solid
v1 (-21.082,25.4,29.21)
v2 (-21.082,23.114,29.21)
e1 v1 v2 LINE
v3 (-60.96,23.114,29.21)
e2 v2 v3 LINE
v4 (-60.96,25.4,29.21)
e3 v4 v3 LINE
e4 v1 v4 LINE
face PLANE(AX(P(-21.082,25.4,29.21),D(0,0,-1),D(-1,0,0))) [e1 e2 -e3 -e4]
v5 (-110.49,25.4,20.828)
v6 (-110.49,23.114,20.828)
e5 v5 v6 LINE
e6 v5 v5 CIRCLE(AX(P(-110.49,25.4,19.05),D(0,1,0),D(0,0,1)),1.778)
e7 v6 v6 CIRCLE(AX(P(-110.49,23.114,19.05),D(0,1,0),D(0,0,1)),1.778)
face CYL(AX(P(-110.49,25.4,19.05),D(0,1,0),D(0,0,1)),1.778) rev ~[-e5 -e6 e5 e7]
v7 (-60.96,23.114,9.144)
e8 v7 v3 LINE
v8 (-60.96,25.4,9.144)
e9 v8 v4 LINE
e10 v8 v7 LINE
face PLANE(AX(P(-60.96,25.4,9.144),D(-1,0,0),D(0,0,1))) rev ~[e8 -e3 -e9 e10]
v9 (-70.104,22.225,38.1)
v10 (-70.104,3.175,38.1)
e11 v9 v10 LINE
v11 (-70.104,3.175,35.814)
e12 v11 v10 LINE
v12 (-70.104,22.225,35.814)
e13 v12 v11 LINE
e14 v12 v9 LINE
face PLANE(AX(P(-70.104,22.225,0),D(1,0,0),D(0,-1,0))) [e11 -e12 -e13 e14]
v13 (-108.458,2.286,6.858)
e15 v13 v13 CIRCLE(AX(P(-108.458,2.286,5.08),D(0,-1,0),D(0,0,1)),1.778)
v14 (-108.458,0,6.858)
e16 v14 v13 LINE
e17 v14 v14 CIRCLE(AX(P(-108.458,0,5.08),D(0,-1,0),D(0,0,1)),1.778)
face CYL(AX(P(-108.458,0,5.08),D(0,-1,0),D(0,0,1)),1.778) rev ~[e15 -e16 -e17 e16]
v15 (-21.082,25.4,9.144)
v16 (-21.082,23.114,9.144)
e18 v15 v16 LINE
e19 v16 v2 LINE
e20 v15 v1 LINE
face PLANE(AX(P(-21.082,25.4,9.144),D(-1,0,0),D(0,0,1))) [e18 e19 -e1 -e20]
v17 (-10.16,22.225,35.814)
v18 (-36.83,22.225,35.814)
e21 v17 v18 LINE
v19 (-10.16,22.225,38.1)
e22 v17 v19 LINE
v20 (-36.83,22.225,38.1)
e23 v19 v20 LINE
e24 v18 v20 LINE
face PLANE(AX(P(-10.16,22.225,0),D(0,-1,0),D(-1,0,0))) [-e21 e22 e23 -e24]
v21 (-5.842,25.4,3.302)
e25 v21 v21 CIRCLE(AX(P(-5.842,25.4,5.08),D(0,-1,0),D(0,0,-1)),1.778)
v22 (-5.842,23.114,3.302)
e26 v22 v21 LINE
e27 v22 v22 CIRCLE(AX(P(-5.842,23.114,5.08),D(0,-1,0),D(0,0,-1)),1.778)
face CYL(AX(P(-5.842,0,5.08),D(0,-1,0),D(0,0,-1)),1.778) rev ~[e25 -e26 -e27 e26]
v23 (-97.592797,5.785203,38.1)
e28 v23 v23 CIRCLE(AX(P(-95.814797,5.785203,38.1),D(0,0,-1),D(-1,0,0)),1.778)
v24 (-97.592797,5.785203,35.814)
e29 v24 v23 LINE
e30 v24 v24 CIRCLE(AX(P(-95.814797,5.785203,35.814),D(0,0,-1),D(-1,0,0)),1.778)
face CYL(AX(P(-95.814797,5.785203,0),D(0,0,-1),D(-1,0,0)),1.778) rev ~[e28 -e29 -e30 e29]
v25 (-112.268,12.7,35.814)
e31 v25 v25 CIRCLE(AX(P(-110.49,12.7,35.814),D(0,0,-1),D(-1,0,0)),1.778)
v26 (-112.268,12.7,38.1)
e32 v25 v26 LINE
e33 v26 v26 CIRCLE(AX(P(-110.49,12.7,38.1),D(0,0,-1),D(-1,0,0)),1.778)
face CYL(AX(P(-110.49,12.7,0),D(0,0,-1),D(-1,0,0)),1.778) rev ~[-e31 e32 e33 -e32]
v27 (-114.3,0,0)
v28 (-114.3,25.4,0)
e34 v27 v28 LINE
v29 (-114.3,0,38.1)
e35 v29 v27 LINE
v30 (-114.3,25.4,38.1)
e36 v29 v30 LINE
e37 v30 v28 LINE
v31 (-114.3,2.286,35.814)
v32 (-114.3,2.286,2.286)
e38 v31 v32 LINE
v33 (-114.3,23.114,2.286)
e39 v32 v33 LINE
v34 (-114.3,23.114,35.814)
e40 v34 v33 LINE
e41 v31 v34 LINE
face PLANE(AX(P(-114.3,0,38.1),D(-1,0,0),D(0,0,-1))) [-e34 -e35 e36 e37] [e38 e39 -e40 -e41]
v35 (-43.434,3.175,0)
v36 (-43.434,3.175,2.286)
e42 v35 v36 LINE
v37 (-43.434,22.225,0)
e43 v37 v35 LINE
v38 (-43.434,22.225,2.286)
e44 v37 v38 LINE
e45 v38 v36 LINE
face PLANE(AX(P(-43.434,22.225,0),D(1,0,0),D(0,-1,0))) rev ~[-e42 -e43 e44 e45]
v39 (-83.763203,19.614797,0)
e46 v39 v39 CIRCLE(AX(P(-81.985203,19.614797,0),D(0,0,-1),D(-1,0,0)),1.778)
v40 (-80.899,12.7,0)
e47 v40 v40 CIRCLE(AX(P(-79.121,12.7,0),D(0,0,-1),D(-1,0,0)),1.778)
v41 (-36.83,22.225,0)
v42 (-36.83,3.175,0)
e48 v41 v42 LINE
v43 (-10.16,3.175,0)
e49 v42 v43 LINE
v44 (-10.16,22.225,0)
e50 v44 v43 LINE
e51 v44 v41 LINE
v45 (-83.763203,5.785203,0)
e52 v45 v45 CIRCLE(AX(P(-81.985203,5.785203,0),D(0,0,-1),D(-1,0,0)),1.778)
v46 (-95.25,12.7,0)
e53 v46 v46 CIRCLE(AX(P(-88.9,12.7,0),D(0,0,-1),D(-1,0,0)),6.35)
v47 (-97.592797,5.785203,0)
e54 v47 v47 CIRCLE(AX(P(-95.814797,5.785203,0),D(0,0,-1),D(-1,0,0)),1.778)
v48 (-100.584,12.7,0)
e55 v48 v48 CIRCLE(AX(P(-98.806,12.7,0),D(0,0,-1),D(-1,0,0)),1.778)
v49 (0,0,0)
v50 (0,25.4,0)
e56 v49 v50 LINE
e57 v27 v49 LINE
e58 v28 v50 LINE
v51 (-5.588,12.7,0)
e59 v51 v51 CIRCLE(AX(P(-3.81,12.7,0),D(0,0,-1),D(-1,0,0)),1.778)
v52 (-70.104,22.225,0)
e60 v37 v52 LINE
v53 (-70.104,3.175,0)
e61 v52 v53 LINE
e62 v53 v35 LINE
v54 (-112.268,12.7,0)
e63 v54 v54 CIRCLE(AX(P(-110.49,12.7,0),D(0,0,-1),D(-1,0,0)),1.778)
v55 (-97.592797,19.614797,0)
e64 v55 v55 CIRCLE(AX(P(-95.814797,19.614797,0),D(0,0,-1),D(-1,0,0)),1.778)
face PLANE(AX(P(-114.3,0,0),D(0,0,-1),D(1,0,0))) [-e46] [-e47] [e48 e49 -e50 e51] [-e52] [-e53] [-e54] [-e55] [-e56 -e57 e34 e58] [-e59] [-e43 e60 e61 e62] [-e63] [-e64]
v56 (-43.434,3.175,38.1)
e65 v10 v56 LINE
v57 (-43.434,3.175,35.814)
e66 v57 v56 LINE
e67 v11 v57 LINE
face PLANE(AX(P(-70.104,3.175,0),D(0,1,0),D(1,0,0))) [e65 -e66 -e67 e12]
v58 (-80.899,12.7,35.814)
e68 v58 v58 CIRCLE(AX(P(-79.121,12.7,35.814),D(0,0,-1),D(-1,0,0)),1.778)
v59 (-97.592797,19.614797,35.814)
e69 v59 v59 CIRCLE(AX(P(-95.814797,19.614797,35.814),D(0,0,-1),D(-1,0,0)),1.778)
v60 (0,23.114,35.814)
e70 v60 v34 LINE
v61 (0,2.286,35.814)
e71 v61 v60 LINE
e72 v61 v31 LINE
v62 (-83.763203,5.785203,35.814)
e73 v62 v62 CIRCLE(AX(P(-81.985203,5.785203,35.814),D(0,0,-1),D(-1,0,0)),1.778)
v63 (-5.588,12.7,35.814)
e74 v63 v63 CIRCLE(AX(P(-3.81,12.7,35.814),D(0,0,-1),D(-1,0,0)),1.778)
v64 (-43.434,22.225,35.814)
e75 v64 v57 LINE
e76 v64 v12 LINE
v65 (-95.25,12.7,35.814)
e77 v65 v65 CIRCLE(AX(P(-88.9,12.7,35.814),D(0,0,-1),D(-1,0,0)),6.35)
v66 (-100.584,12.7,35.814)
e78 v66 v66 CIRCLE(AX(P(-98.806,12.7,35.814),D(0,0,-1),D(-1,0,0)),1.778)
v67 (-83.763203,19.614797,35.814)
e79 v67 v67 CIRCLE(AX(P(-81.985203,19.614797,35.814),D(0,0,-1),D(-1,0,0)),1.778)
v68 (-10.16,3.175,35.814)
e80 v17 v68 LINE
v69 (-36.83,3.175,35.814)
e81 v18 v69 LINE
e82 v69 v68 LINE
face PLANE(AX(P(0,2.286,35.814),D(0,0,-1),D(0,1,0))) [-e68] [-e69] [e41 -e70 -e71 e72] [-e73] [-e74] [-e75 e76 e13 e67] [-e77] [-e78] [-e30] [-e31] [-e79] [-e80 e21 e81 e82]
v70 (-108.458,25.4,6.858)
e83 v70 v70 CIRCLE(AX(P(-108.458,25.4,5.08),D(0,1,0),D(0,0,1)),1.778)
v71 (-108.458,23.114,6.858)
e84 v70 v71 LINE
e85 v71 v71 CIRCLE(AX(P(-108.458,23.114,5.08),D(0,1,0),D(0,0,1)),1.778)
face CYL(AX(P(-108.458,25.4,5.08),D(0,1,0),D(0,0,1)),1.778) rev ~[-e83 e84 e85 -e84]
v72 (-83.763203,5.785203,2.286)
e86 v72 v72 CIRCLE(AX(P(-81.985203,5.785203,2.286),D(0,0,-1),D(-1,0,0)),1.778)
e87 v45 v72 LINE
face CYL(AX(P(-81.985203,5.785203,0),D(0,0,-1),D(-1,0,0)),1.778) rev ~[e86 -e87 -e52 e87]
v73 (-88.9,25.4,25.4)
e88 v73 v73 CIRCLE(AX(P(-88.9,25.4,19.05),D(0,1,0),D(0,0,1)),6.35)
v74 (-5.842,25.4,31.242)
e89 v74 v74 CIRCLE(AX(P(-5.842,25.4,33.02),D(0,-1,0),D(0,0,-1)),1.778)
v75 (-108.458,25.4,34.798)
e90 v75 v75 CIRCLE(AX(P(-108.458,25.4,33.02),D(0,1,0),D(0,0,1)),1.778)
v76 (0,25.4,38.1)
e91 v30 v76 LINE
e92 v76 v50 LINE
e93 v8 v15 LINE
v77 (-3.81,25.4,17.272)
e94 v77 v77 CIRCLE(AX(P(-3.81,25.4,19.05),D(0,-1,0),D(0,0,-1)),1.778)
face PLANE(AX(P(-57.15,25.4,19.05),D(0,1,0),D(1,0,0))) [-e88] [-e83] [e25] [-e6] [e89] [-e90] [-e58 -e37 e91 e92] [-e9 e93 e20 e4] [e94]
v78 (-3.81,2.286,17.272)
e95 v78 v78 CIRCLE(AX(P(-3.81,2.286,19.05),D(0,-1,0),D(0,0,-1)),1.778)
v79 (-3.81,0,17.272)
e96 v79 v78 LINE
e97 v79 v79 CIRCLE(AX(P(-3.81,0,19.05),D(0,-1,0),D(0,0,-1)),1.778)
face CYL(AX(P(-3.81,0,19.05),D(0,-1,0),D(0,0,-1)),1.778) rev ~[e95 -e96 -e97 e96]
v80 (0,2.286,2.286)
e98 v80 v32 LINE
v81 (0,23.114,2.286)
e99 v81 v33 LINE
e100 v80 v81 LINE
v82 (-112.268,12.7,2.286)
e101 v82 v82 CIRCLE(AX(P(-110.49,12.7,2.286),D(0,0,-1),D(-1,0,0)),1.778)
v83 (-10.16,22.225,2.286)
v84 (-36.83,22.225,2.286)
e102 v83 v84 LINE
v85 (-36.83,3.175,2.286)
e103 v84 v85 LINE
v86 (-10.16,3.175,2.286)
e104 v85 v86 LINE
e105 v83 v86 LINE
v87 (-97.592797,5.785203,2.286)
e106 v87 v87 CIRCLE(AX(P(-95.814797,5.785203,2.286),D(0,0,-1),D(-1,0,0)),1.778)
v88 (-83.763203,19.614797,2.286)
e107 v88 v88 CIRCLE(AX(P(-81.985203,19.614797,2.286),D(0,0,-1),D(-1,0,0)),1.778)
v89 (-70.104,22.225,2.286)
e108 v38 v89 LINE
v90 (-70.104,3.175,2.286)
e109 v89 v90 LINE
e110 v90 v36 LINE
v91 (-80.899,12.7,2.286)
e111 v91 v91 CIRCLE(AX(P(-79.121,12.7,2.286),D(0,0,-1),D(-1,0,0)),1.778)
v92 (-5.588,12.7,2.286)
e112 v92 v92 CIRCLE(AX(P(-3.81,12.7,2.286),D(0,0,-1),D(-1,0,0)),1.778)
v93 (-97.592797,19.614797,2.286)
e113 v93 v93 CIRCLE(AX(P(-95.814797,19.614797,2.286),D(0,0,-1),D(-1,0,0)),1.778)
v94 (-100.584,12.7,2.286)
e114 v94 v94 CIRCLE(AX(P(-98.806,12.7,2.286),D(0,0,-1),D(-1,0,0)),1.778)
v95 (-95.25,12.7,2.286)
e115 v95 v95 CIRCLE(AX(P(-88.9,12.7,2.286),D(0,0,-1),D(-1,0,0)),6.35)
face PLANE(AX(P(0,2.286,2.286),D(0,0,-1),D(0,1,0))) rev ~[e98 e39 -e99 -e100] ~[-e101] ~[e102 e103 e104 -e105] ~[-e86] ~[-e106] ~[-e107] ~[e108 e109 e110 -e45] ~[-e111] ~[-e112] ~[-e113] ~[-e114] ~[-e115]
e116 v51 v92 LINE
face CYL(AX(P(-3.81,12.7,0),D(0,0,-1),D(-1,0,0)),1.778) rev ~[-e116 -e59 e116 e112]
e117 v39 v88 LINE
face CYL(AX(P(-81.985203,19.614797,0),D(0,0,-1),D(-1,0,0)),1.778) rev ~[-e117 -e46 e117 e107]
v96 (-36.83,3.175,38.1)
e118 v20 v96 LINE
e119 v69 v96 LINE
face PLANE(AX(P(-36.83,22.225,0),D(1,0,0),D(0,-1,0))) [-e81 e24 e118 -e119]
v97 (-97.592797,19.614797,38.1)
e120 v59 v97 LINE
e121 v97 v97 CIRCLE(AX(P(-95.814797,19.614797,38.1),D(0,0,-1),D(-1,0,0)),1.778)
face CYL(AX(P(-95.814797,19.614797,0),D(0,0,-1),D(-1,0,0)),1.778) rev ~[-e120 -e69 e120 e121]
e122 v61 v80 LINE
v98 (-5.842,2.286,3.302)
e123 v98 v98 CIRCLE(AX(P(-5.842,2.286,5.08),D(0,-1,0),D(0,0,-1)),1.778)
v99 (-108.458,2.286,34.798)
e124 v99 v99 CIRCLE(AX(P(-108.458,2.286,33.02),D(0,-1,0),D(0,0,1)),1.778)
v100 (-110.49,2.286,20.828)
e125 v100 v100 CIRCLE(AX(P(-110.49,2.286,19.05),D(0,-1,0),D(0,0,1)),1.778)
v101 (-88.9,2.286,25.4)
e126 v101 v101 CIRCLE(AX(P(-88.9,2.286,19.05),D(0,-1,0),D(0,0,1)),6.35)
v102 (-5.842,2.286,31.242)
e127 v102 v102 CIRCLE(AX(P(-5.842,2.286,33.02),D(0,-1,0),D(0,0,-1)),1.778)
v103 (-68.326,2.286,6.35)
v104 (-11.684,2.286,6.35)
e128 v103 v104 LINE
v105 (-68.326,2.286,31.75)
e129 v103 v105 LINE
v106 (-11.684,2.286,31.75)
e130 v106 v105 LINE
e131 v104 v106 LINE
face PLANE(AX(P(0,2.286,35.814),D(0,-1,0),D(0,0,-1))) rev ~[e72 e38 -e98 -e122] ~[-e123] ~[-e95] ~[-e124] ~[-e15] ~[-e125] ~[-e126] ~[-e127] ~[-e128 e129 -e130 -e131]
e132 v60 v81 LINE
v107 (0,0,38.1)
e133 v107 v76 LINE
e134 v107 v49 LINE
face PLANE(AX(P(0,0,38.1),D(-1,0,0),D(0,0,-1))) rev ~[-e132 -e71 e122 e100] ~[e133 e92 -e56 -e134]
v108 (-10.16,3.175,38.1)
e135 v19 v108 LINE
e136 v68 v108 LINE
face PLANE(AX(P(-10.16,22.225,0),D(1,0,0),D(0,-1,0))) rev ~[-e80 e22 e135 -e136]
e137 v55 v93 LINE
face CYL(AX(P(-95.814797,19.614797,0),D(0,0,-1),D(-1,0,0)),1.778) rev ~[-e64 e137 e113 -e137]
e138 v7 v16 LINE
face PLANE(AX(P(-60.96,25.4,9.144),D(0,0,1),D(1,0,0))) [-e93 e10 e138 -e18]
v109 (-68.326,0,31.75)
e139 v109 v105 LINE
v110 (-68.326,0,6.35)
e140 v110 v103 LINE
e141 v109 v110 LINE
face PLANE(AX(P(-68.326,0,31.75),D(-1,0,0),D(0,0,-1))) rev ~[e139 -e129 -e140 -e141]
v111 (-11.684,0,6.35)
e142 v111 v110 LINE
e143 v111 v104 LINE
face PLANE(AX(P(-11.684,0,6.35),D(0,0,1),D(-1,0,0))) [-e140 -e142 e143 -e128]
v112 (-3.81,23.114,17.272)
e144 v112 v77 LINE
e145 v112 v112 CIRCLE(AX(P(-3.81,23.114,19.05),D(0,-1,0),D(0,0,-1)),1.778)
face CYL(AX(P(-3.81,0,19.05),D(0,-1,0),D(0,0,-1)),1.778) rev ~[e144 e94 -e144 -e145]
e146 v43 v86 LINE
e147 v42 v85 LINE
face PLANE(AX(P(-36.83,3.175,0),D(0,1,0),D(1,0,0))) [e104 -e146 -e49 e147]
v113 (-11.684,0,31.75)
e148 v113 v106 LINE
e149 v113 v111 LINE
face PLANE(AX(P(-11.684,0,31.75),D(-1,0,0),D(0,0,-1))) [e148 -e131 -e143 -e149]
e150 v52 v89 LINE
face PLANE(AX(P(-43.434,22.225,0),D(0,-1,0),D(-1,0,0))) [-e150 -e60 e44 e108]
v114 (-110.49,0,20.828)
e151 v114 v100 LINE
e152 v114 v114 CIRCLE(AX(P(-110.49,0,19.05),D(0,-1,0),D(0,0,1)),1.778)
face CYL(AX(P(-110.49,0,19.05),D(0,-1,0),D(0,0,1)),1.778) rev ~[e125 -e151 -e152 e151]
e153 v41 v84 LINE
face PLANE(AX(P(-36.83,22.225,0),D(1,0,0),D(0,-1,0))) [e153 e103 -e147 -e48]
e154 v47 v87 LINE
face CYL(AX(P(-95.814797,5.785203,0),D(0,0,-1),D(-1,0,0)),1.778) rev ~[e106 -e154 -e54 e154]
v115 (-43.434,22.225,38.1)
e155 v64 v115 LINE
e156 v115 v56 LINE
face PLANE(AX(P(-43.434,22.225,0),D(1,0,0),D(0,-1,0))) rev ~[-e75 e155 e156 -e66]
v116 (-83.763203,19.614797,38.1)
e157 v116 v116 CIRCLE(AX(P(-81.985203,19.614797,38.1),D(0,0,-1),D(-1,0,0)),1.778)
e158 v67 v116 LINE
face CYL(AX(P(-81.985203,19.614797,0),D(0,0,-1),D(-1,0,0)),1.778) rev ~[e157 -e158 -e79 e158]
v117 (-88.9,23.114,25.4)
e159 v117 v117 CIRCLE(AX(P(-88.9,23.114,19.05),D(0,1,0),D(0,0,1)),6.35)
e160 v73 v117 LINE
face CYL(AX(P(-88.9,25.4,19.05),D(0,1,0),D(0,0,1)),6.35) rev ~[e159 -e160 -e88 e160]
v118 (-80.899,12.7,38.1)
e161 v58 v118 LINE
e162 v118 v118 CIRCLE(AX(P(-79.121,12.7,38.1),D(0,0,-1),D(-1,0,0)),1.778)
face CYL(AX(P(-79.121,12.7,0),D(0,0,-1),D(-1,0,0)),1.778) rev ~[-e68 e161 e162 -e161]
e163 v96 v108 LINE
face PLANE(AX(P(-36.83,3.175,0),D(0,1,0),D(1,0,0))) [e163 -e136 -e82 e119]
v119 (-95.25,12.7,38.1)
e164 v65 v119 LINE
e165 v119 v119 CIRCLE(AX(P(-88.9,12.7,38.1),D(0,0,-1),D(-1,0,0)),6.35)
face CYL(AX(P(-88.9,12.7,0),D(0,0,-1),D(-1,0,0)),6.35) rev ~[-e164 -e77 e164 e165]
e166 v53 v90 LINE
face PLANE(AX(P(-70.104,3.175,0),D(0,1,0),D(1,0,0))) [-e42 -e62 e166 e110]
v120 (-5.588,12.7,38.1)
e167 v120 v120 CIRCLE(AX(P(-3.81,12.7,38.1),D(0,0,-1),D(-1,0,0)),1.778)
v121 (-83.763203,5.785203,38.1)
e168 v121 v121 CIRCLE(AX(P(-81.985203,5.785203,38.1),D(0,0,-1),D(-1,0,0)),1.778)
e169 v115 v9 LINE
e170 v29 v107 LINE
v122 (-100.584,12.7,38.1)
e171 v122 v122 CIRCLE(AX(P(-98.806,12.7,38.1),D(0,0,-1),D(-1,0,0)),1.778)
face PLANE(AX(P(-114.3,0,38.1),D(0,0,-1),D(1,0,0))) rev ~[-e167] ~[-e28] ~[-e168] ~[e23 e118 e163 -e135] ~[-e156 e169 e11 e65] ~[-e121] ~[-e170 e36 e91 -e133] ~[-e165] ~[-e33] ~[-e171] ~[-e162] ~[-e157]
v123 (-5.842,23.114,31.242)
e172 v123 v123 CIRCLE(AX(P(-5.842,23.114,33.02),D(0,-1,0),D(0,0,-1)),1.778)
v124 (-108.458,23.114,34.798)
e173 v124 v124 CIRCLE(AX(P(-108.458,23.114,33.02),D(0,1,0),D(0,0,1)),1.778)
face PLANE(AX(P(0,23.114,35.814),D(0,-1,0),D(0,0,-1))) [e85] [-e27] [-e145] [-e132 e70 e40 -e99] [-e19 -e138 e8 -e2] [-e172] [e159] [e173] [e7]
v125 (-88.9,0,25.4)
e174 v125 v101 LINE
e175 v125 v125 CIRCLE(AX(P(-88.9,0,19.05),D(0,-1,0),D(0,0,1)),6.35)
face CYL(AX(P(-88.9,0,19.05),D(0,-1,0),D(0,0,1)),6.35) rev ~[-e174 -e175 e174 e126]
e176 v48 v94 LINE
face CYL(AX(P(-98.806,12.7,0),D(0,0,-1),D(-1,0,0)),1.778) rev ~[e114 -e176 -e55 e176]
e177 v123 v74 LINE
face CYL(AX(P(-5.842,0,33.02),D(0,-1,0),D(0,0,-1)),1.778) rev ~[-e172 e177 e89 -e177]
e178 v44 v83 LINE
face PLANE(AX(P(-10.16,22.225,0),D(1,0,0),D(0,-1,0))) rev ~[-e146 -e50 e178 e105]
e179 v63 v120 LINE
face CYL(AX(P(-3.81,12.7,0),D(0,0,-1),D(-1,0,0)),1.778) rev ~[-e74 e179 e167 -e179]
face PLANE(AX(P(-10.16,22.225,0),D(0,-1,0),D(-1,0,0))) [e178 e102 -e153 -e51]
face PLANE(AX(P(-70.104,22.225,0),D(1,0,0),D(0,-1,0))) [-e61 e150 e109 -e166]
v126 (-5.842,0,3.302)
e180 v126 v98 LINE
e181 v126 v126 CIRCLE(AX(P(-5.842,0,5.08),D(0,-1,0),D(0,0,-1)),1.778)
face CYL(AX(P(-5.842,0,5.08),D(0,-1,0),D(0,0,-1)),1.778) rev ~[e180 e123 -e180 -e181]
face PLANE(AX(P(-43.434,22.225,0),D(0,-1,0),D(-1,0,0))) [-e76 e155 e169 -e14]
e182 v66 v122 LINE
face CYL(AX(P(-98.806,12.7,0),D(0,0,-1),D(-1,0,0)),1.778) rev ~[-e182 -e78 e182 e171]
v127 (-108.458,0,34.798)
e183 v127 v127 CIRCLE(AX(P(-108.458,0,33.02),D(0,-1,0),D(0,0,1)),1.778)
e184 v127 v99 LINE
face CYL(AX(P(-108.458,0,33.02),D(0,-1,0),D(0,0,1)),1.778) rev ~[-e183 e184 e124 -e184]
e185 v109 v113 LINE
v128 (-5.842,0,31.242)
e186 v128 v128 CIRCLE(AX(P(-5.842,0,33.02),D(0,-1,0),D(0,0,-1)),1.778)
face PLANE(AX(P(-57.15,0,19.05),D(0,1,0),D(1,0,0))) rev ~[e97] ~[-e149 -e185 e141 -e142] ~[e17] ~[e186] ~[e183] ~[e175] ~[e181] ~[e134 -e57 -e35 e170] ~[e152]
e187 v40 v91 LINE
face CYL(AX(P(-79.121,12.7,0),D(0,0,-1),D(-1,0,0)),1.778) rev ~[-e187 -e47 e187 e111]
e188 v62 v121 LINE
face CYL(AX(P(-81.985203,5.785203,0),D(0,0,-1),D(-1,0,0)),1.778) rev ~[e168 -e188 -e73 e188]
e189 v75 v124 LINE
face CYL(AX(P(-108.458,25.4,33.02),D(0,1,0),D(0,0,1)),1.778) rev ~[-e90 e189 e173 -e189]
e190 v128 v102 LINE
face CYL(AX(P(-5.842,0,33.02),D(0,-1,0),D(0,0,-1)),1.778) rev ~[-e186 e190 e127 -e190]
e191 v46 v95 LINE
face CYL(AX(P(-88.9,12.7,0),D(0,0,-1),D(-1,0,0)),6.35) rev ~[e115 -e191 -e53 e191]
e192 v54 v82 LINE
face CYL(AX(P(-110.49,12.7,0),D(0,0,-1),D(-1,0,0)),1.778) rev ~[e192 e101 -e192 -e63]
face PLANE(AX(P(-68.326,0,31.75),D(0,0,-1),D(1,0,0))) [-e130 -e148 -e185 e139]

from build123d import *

# Parameters (mm, degrees)
SKETCH1_W           = 114.3
SKETCH1_H           = 38.1
BOSS_EXTRUDE1_DEPTH = 25.4
CUT_EXTRUDE1_REACH  = 125.131
SKETCH2_W           = 33.528
SKETCH2_H           = 20.828
CUT_EXTRUDE3_REACH  = 125.131
SKETCH4_R           = 1.778
CUT_EXTRUDE5_REACH  = 125.131
SKETCH6_R           = 1.778
SKETCH6_R_2         = 6.35
CUT_EXTRUDE6_REACH  = 125.131
SKETCH7_R           = 1.778
SKETCH7_R_2         = 6.35
CUT_EXTRUDE7_REACH  = 125.131
SKETCH8_R           = 1.778
SKETCH8_R_2         = 6.35
CUT_EXTRUDE9_REACH  = 125.131
SKETCH10_R          = 1.778


with BuildPart() as part:
    # Sketch1 → Boss-Extrude1 (new body)
    with BuildSketch(Plane(origin=(0, 0, 0), x_dir=(1, 0, 0), z_dir=(0, 1, 0))):
        with Locations((-57.15, -19.05)):
            Rectangle(SKETCH1_W, SKETCH1_H)
    extrude(amount=BOSS_EXTRUDE1_DEPTH)

    # Sketch2 → Cut-Extrude1 (cut, up to next)
    with BuildSketch(Plane(origin=(0, 0, 0), x_dir=(0, 0, -1), z_dir=(1, 0, 0)), mode=Mode.PRIVATE) as cut_extrude1_sk1:
        with Locations((-19.05, 12.7)):
            Rectangle(SKETCH2_W, SKETCH2_H)
    cut_extrude1_tool1 = extrude(cut_extrude1_sk1.sketch, amount=-CUT_EXTRUDE1_REACH, mode=Mode.PRIVATE) & part.part
    add(cut_extrude1_tool1.solids().sort_by_distance((0, 12.7, 19.05))[0], mode=Mode.SUBTRACT)

    # Cut-Extrude3: up to this face of the body (flat: up to its plane)
    cut_extrude3_end = Plane(part.part.faces().sort_by_distance((-57.15, 12.7, 38.1))[0])
    # Sketch4 → Cut-Extrude3 (cut, up to the picked face)
    with BuildSketch(Plane(origin=(0, 0, 0), x_dir=(-1, 0, 0), z_dir=(0, 0, -1)), mode=Mode.PRIVATE) as cut_extrude3_sk1:
        with Locations((3.81, 12.7)):
            Circle(SKETCH4_R)
    cut_extrude3_tool1 = split(extrude(cut_extrude3_sk1.sketch, amount=-CUT_EXTRUDE3_REACH, mode=Mode.PRIVATE), bisect_by=cut_extrude3_end, keep=Keep.BOTH, mode=Mode.PRIVATE)
    add(cut_extrude3_tool1.solids().sort_by(Axis((-3.81, 12.7, 0), (0, 0, 1)))[0], mode=Mode.SUBTRACT)

    # Cut-Extrude5: up to this face of the body (flat: up to its plane)
    cut_extrude5_end = Plane(part.part.faces().sort_by_distance((-57.333094227, 12.7, 38.1))[0])
    # Sketch6 → Cut-Extrude5 (cut, up to the picked face)
    with BuildSketch(Plane(origin=(0, 0, 0), x_dir=(-1, 0, 0), z_dir=(0, 0, -1)), mode=Mode.PRIVATE) as cut_extrude5_sk1:
        with Locations((110.49, 12.7)):
            Circle(SKETCH6_R)
    cut_extrude5_tool1 = split(extrude(cut_extrude5_sk1.sketch, amount=-CUT_EXTRUDE5_REACH, mode=Mode.PRIVATE), bisect_by=cut_extrude5_end, keep=Keep.BOTH, mode=Mode.PRIVATE)
    # Sketch6 → Cut-Extrude5 (cut, up to the picked face)
    with BuildSketch(Plane(origin=(0, 0, 0), x_dir=(-1, 0, 0), z_dir=(0, 0, -1)), mode=Mode.PRIVATE) as cut_extrude5_sk2:
        with Locations((88.9, 12.7)):
            Circle(SKETCH6_R_2)
    cut_extrude5_tool2 = split(extrude(cut_extrude5_sk2.sketch, amount=-CUT_EXTRUDE5_REACH, mode=Mode.PRIVATE), bisect_by=cut_extrude5_end, keep=Keep.BOTH, mode=Mode.PRIVATE)
    # Sketch6 → Cut-Extrude5 (cut, up to the picked face)
    with BuildSketch(Plane(origin=(0, 0, 0), x_dir=(-1, 0, 0), z_dir=(0, 0, -1)), mode=Mode.PRIVATE) as cut_extrude5_sk3:
        with Locations((81.985202787, 19.614797213)):
            Circle(SKETCH6_R)
    cut_extrude5_tool3 = split(extrude(cut_extrude5_sk3.sketch, amount=-CUT_EXTRUDE5_REACH, mode=Mode.PRIVATE), bisect_by=cut_extrude5_end, keep=Keep.BOTH, mode=Mode.PRIVATE)
    # Sketch6 → Cut-Extrude5 (cut, up to the picked face)
    with BuildSketch(Plane(origin=(0, 0, 0), x_dir=(-1, 0, 0), z_dir=(0, 0, -1)), mode=Mode.PRIVATE) as cut_extrude5_sk4:
        with Locations((95.814797213, 19.614797213)):
            Circle(SKETCH6_R)
    cut_extrude5_tool4 = split(extrude(cut_extrude5_sk4.sketch, amount=-CUT_EXTRUDE5_REACH, mode=Mode.PRIVATE), bisect_by=cut_extrude5_end, keep=Keep.BOTH, mode=Mode.PRIVATE)
    # Sketch6 → Cut-Extrude5 (cut, up to the picked face)
    with BuildSketch(Plane(origin=(0, 0, 0), x_dir=(-1, 0, 0), z_dir=(0, 0, -1)), mode=Mode.PRIVATE) as cut_extrude5_sk5:
        with Locations((95.814797213, 5.785202787)):
            Circle(SKETCH6_R)
    cut_extrude5_tool5 = split(extrude(cut_extrude5_sk5.sketch, amount=-CUT_EXTRUDE5_REACH, mode=Mode.PRIVATE), bisect_by=cut_extrude5_end, keep=Keep.BOTH, mode=Mode.PRIVATE)
    # Sketch6 → Cut-Extrude5 (cut, up to the picked face)
    with BuildSketch(Plane(origin=(0, 0, 0), x_dir=(-1, 0, 0), z_dir=(0, 0, -1)), mode=Mode.PRIVATE) as cut_extrude5_sk6:
        with Locations((81.985202787, 5.785202787)):
            Circle(SKETCH6_R)
    cut_extrude5_tool6 = split(extrude(cut_extrude5_sk6.sketch, amount=-CUT_EXTRUDE5_REACH, mode=Mode.PRIVATE), bisect_by=cut_extrude5_end, keep=Keep.BOTH, mode=Mode.PRIVATE)
    # Sketch6 → Cut-Extrude5 (cut, up to the picked face)
    with BuildSketch(Plane(origin=(0, 0, 0), x_dir=(-1, 0, 0), z_dir=(0, 0, -1)), mode=Mode.PRIVATE) as cut_extrude5_sk7:
        with Locations((79.121, 12.7)):
            Circle(SKETCH6_R)
    cut_extrude5_tool7 = split(extrude(cut_extrude5_sk7.sketch, amount=-CUT_EXTRUDE5_REACH, mode=Mode.PRIVATE), bisect_by=cut_extrude5_end, keep=Keep.BOTH, mode=Mode.PRIVATE)
    # Sketch6 → Cut-Extrude5 (cut, up to the picked face)
    with BuildSketch(Plane(origin=(0, 0, 0), x_dir=(-1, 0, 0), z_dir=(0, 0, -1)), mode=Mode.PRIVATE) as cut_extrude5_sk8:
        with Locations((98.806, 12.7)):
            Circle(SKETCH6_R)
    cut_extrude5_tool8 = split(extrude(cut_extrude5_sk8.sketch, amount=-CUT_EXTRUDE5_REACH, mode=Mode.PRIVATE), bisect_by=cut_extrude5_end, keep=Keep.BOTH, mode=Mode.PRIVATE)
    # Sketch6 → Cut-Extrude5 (cut, up to the picked face)
    with BuildSketch(Plane(origin=(0, 0, 0), x_dir=(-1, 0, 0), z_dir=(0, 0, -1)), mode=Mode.PRIVATE) as cut_extrude5_sk9:
        Polygon((10.16, 12.7), (10.16, 22.225), (36.83, 22.225), (36.83, 3.175), (10.16, 3.175), align=None)
    cut_extrude5_tool9 = split(extrude(cut_extrude5_sk9.sketch, amount=-CUT_EXTRUDE5_REACH, mode=Mode.PRIVATE), bisect_by=cut_extrude5_end, keep=Keep.BOTH, mode=Mode.PRIVATE)
    # Sketch6 → Cut-Extrude5 (cut, up to the picked face)
    with BuildSketch(Plane(origin=(0, 0, 0), x_dir=(-1, 0, 0), z_dir=(0, 0, -1)), mode=Mode.PRIVATE) as cut_extrude5_sk10:
        Polygon((43.434, 12.7), (43.434, 22.225), (70.104, 22.225), (70.104, 3.175), (43.434, 3.175), align=None)
    cut_extrude5_tool10 = split(extrude(cut_extrude5_sk10.sketch, amount=-CUT_EXTRUDE5_REACH, mode=Mode.PRIVATE), bisect_by=cut_extrude5_end, keep=Keep.BOTH, mode=Mode.PRIVATE)
    add(cut_extrude5_tool1.solids().sort_by(Axis((-110.49, 12.7, 0), (0, 0, 1)))[0], mode=Mode.SUBTRACT)
    add(cut_extrude5_tool2.solids().sort_by(Axis((-88.9, 12.7, 0), (0, 0, 1)))[0], mode=Mode.SUBTRACT)
    add(cut_extrude5_tool3.solids().sort_by(Axis((-81.985203, 19.614797, 0), (0, 0, 1)))[0], mode=Mode.SUBTRACT)
    add(cut_extrude5_tool4.solids().sort_by(Axis((-95.814797, 19.614797, 0), (0, 0, 1)))[0], mode=Mode.SUBTRACT)
    add(cut_extrude5_tool5.solids().sort_by(Axis((-95.814797, 5.785203, 0), (0, 0, 1)))[0], mode=Mode.SUBTRACT)
    add(cut_extrude5_tool6.solids().sort_by(Axis((-81.985203, 5.785203, 0), (0, 0, 1)))[0], mode=Mode.SUBTRACT)
    add(cut_extrude5_tool7.solids().sort_by(Axis((-79.121, 12.7, 0), (0, 0, 1)))[0], mode=Mode.SUBTRACT)
    add(cut_extrude5_tool8.solids().sort_by(Axis((-98.806, 12.7, 0), (0, 0, 1)))[0], mode=Mode.SUBTRACT)
    add(cut_extrude5_tool9.solids().sort_by(Axis((-23.495, 12.7, 0), (0, 0, 1)))[0], mode=Mode.SUBTRACT)
    add(cut_extrude5_tool10.solids().sort_by(Axis((-56.769, 12.7, 0), (0, 0, 1)))[0], mode=Mode.SUBTRACT)

    # Sketch7 → Cut-Extrude6 (cut, up to next)
    with BuildSketch(Plane(origin=(0, 25.4, 0), x_dir=(1, 0, 0), z_dir=(0, 1, 0)), mode=Mode.PRIVATE) as cut_extrude6_sk1:
        with Locations(Location((-110.49, -19.05, 0), (0, 0, 270))):
            Circle(SKETCH7_R)
    cut_extrude6_tool1 = extrude(cut_extrude6_sk1.sketch, amount=-CUT_EXTRUDE6_REACH, mode=Mode.PRIVATE) & part.part
    # Sketch7 → Cut-Extrude6 (cut, up to next)
    with BuildSketch(Plane(origin=(0, 25.4, 0), x_dir=(1, 0, 0), z_dir=(0, 1, 0)), mode=Mode.PRIVATE) as cut_extrude6_sk2:
        with Locations(Location((-88.9, -19.05, 0), (0, 0, 270))):
            Circle(SKETCH7_R_2)
    cut_extrude6_tool2 = extrude(cut_extrude6_sk2.sketch, amount=-CUT_EXTRUDE6_REACH, mode=Mode.PRIVATE) & part.part
    # Sketch7 → Cut-Extrude6 (cut, up to next)
    with BuildSketch(Plane(origin=(0, 25.4, 0), x_dir=(1, 0, 0), z_dir=(0, 1, 0)), mode=Mode.PRIVATE) as cut_extrude6_sk3:
        with Locations(Location((-108.458, -5.08, 0), (0, 0, 270))):
            Circle(SKETCH7_R)
    cut_extrude6_tool3 = extrude(cut_extrude6_sk3.sketch, amount=-CUT_EXTRUDE6_REACH, mode=Mode.PRIVATE) & part.part
    # Sketch7 → Cut-Extrude6 (cut, up to next)
    with BuildSketch(Plane(origin=(0, 25.4, 0), x_dir=(1, 0, 0), z_dir=(0, 1, 0)), mode=Mode.PRIVATE) as cut_extrude6_sk4:
        with Locations(Location((-108.458, -33.02, 0), (0, 0, 270))):
            Circle(SKETCH7_R)
    cut_extrude6_tool4 = extrude(cut_extrude6_sk4.sketch, amount=-CUT_EXTRUDE6_REACH, mode=Mode.PRIVATE) & part.part
    # Sketch7 → Cut-Extrude6 (cut, up to next)
    with BuildSketch(Plane(origin=(0, 25.4, 0), x_dir=(1, 0, 0), z_dir=(0, 1, 0)), mode=Mode.PRIVATE) as cut_extrude6_sk5:
        Polygon((-60.96, -19.05), (-60.96, -9.144), (-21.082, -9.144), (-21.082, -29.21), (-60.96, -29.21), align=None)
    cut_extrude6_tool5 = extrude(cut_extrude6_sk5.sketch, amount=-CUT_EXTRUDE6_REACH, mode=Mode.PRIVATE) & part.part
    add(cut_extrude6_tool1.solids().sort_by_distance((-110.49, 25.4, 19.05))[0], mode=Mode.SUBTRACT)
    add(cut_extrude6_tool2.solids().sort_by_distance((-88.9, 25.4, 19.05))[0], mode=Mode.SUBTRACT)
    add(cut_extrude6_tool3.solids().sort_by_distance((-108.458, 25.4, 5.08))[0], mode=Mode.SUBTRACT)
    add(cut_extrude6_tool4.solids().sort_by_distance((-108.458, 25.4, 33.02))[0], mode=Mode.SUBTRACT)
    add(cut_extrude6_tool5.solids().sort_by_distance((-41.021, 25.4, 19.177))[0], mode=Mode.SUBTRACT)

    # Sketch8 → Cut-Extrude7 (cut, up to next)
    with BuildSketch(Plane.XZ, mode=Mode.PRIVATE) as cut_extrude7_sk1:
        with Locations(Location((-110.49, 19.05, 0), (0, 0, 90))):
            Circle(SKETCH8_R)
    cut_extrude7_tool1 = extrude(cut_extrude7_sk1.sketch, amount=-CUT_EXTRUDE7_REACH, mode=Mode.PRIVATE) & part.part
    # Sketch8 → Cut-Extrude7 (cut, up to next)
    with BuildSketch(Plane.XZ, mode=Mode.PRIVATE) as cut_extrude7_sk2:
        with Locations(Location((-88.9, 19.05, 0), (0, 0, 90))):
            Circle(SKETCH8_R_2)
    cut_extrude7_tool2 = extrude(cut_extrude7_sk2.sketch, amount=-CUT_EXTRUDE7_REACH, mode=Mode.PRIVATE) & part.part
    # Sketch8 → Cut-Extrude7 (cut, up to next)
    with BuildSketch(Plane.XZ, mode=Mode.PRIVATE) as cut_extrude7_sk3:
        with Locations(Location((-108.458, 33.02, 0), (0, 0, 90))):
            Circle(SKETCH8_R)
    cut_extrude7_tool3 = extrude(cut_extrude7_sk3.sketch, amount=-CUT_EXTRUDE7_REACH, mode=Mode.PRIVATE) & part.part
    # Sketch8 → Cut-Extrude7 (cut, up to next)
    with BuildSketch(Plane.XZ, mode=Mode.PRIVATE) as cut_extrude7_sk4:
        with Locations(Location((-108.458, 5.08, 0), (0, 0, 90))):
            Circle(SKETCH8_R)
    cut_extrude7_tool4 = extrude(cut_extrude7_sk4.sketch, amount=-CUT_EXTRUDE7_REACH, mode=Mode.PRIVATE) & part.part
    # Sketch8 → Cut-Extrude7 (cut, up to next)
    with BuildSketch(Plane.XZ, mode=Mode.PRIVATE) as cut_extrude7_sk5:
        Polygon((-68.326, 19.05), (-68.326, 31.75), (-11.684, 31.75), (-11.684, 6.35), (-68.326, 6.35), align=None)
    cut_extrude7_tool5 = extrude(cut_extrude7_sk5.sketch, amount=-CUT_EXTRUDE7_REACH, mode=Mode.PRIVATE) & part.part
    add(cut_extrude7_tool1.solids().sort_by_distance((-110.49, 0, 19.05))[0], mode=Mode.SUBTRACT)
    add(cut_extrude7_tool2.solids().sort_by_distance((-88.9, 0, 19.05))[0], mode=Mode.SUBTRACT)
    add(cut_extrude7_tool3.solids().sort_by_distance((-108.458, 0, 33.02))[0], mode=Mode.SUBTRACT)
    add(cut_extrude7_tool4.solids().sort_by_distance((-108.458, 0, 5.08))[0], mode=Mode.SUBTRACT)
    add(cut_extrude7_tool5.solids().sort_by_distance((-40.005, 0, 19.05))[0], mode=Mode.SUBTRACT)

    # Cut-Extrude9: up to this face of the body (flat: up to its plane)
    cut_extrude9_end = Plane(part.part.faces().sort_by_distance((-57.15, 25.4, 1.204827789))[0])
    # Sketch10 → Cut-Extrude9 (cut, up to the picked face)
    with BuildSketch(Plane(origin=(0, 0, 0), x_dir=(-1, 0, 0), z_dir=(0, -1, 0)), mode=Mode.PRIVATE) as cut_extrude9_sk1:
        with Locations(Location((3.81, -19.05, 0), (0, 0, 90))):
            Circle(SKETCH10_R)
    cut_extrude9_tool1 = split(extrude(cut_extrude9_sk1.sketch, amount=-CUT_EXTRUDE9_REACH, mode=Mode.PRIVATE), bisect_by=cut_extrude9_end, keep=Keep.BOTH, mode=Mode.PRIVATE)
    # Sketch10 → Cut-Extrude9 (cut, up to the picked face)
    with BuildSketch(Plane(origin=(0, 0, 0), x_dir=(-1, 0, 0), z_dir=(0, -1, 0)), mode=Mode.PRIVATE) as cut_extrude9_sk2:
        with Locations(Location((5.842, -33.02, 0), (0, 0, 90))):
            Circle(SKETCH10_R)
    cut_extrude9_tool2 = split(extrude(cut_extrude9_sk2.sketch, amount=-CUT_EXTRUDE9_REACH, mode=Mode.PRIVATE), bisect_by=cut_extrude9_end, keep=Keep.BOTH, mode=Mode.PRIVATE)
    # Sketch10 → Cut-Extrude9 (cut, up to the picked face)
    with BuildSketch(Plane(origin=(0, 0, 0), x_dir=(-1, 0, 0), z_dir=(0, -1, 0)), mode=Mode.PRIVATE) as cut_extrude9_sk3:
        with Locations(Location((5.842, -5.08, 0), (0, 0, 90))):
            Circle(SKETCH10_R)
    cut_extrude9_tool3 = split(extrude(cut_extrude9_sk3.sketch, amount=-CUT_EXTRUDE9_REACH, mode=Mode.PRIVATE), bisect_by=cut_extrude9_end, keep=Keep.BOTH, mode=Mode.PRIVATE)
    add(cut_extrude9_tool1.solids().sort_by(Axis((-3.81, 0, 19.05), (0, 1, 0)))[0], mode=Mode.SUBTRACT)
    add(cut_extrude9_tool2.solids().sort_by(Axis((-5.842, 0, 33.02), (0, 1, 0)))[0], mode=Mode.SUBTRACT)
    add(cut_extrude9_tool3.solids().sort_by(Axis((-5.842, 0, 5.08), (0, 1, 0)))[0], mode=Mode.SUBTRACT)


solid = part.part
